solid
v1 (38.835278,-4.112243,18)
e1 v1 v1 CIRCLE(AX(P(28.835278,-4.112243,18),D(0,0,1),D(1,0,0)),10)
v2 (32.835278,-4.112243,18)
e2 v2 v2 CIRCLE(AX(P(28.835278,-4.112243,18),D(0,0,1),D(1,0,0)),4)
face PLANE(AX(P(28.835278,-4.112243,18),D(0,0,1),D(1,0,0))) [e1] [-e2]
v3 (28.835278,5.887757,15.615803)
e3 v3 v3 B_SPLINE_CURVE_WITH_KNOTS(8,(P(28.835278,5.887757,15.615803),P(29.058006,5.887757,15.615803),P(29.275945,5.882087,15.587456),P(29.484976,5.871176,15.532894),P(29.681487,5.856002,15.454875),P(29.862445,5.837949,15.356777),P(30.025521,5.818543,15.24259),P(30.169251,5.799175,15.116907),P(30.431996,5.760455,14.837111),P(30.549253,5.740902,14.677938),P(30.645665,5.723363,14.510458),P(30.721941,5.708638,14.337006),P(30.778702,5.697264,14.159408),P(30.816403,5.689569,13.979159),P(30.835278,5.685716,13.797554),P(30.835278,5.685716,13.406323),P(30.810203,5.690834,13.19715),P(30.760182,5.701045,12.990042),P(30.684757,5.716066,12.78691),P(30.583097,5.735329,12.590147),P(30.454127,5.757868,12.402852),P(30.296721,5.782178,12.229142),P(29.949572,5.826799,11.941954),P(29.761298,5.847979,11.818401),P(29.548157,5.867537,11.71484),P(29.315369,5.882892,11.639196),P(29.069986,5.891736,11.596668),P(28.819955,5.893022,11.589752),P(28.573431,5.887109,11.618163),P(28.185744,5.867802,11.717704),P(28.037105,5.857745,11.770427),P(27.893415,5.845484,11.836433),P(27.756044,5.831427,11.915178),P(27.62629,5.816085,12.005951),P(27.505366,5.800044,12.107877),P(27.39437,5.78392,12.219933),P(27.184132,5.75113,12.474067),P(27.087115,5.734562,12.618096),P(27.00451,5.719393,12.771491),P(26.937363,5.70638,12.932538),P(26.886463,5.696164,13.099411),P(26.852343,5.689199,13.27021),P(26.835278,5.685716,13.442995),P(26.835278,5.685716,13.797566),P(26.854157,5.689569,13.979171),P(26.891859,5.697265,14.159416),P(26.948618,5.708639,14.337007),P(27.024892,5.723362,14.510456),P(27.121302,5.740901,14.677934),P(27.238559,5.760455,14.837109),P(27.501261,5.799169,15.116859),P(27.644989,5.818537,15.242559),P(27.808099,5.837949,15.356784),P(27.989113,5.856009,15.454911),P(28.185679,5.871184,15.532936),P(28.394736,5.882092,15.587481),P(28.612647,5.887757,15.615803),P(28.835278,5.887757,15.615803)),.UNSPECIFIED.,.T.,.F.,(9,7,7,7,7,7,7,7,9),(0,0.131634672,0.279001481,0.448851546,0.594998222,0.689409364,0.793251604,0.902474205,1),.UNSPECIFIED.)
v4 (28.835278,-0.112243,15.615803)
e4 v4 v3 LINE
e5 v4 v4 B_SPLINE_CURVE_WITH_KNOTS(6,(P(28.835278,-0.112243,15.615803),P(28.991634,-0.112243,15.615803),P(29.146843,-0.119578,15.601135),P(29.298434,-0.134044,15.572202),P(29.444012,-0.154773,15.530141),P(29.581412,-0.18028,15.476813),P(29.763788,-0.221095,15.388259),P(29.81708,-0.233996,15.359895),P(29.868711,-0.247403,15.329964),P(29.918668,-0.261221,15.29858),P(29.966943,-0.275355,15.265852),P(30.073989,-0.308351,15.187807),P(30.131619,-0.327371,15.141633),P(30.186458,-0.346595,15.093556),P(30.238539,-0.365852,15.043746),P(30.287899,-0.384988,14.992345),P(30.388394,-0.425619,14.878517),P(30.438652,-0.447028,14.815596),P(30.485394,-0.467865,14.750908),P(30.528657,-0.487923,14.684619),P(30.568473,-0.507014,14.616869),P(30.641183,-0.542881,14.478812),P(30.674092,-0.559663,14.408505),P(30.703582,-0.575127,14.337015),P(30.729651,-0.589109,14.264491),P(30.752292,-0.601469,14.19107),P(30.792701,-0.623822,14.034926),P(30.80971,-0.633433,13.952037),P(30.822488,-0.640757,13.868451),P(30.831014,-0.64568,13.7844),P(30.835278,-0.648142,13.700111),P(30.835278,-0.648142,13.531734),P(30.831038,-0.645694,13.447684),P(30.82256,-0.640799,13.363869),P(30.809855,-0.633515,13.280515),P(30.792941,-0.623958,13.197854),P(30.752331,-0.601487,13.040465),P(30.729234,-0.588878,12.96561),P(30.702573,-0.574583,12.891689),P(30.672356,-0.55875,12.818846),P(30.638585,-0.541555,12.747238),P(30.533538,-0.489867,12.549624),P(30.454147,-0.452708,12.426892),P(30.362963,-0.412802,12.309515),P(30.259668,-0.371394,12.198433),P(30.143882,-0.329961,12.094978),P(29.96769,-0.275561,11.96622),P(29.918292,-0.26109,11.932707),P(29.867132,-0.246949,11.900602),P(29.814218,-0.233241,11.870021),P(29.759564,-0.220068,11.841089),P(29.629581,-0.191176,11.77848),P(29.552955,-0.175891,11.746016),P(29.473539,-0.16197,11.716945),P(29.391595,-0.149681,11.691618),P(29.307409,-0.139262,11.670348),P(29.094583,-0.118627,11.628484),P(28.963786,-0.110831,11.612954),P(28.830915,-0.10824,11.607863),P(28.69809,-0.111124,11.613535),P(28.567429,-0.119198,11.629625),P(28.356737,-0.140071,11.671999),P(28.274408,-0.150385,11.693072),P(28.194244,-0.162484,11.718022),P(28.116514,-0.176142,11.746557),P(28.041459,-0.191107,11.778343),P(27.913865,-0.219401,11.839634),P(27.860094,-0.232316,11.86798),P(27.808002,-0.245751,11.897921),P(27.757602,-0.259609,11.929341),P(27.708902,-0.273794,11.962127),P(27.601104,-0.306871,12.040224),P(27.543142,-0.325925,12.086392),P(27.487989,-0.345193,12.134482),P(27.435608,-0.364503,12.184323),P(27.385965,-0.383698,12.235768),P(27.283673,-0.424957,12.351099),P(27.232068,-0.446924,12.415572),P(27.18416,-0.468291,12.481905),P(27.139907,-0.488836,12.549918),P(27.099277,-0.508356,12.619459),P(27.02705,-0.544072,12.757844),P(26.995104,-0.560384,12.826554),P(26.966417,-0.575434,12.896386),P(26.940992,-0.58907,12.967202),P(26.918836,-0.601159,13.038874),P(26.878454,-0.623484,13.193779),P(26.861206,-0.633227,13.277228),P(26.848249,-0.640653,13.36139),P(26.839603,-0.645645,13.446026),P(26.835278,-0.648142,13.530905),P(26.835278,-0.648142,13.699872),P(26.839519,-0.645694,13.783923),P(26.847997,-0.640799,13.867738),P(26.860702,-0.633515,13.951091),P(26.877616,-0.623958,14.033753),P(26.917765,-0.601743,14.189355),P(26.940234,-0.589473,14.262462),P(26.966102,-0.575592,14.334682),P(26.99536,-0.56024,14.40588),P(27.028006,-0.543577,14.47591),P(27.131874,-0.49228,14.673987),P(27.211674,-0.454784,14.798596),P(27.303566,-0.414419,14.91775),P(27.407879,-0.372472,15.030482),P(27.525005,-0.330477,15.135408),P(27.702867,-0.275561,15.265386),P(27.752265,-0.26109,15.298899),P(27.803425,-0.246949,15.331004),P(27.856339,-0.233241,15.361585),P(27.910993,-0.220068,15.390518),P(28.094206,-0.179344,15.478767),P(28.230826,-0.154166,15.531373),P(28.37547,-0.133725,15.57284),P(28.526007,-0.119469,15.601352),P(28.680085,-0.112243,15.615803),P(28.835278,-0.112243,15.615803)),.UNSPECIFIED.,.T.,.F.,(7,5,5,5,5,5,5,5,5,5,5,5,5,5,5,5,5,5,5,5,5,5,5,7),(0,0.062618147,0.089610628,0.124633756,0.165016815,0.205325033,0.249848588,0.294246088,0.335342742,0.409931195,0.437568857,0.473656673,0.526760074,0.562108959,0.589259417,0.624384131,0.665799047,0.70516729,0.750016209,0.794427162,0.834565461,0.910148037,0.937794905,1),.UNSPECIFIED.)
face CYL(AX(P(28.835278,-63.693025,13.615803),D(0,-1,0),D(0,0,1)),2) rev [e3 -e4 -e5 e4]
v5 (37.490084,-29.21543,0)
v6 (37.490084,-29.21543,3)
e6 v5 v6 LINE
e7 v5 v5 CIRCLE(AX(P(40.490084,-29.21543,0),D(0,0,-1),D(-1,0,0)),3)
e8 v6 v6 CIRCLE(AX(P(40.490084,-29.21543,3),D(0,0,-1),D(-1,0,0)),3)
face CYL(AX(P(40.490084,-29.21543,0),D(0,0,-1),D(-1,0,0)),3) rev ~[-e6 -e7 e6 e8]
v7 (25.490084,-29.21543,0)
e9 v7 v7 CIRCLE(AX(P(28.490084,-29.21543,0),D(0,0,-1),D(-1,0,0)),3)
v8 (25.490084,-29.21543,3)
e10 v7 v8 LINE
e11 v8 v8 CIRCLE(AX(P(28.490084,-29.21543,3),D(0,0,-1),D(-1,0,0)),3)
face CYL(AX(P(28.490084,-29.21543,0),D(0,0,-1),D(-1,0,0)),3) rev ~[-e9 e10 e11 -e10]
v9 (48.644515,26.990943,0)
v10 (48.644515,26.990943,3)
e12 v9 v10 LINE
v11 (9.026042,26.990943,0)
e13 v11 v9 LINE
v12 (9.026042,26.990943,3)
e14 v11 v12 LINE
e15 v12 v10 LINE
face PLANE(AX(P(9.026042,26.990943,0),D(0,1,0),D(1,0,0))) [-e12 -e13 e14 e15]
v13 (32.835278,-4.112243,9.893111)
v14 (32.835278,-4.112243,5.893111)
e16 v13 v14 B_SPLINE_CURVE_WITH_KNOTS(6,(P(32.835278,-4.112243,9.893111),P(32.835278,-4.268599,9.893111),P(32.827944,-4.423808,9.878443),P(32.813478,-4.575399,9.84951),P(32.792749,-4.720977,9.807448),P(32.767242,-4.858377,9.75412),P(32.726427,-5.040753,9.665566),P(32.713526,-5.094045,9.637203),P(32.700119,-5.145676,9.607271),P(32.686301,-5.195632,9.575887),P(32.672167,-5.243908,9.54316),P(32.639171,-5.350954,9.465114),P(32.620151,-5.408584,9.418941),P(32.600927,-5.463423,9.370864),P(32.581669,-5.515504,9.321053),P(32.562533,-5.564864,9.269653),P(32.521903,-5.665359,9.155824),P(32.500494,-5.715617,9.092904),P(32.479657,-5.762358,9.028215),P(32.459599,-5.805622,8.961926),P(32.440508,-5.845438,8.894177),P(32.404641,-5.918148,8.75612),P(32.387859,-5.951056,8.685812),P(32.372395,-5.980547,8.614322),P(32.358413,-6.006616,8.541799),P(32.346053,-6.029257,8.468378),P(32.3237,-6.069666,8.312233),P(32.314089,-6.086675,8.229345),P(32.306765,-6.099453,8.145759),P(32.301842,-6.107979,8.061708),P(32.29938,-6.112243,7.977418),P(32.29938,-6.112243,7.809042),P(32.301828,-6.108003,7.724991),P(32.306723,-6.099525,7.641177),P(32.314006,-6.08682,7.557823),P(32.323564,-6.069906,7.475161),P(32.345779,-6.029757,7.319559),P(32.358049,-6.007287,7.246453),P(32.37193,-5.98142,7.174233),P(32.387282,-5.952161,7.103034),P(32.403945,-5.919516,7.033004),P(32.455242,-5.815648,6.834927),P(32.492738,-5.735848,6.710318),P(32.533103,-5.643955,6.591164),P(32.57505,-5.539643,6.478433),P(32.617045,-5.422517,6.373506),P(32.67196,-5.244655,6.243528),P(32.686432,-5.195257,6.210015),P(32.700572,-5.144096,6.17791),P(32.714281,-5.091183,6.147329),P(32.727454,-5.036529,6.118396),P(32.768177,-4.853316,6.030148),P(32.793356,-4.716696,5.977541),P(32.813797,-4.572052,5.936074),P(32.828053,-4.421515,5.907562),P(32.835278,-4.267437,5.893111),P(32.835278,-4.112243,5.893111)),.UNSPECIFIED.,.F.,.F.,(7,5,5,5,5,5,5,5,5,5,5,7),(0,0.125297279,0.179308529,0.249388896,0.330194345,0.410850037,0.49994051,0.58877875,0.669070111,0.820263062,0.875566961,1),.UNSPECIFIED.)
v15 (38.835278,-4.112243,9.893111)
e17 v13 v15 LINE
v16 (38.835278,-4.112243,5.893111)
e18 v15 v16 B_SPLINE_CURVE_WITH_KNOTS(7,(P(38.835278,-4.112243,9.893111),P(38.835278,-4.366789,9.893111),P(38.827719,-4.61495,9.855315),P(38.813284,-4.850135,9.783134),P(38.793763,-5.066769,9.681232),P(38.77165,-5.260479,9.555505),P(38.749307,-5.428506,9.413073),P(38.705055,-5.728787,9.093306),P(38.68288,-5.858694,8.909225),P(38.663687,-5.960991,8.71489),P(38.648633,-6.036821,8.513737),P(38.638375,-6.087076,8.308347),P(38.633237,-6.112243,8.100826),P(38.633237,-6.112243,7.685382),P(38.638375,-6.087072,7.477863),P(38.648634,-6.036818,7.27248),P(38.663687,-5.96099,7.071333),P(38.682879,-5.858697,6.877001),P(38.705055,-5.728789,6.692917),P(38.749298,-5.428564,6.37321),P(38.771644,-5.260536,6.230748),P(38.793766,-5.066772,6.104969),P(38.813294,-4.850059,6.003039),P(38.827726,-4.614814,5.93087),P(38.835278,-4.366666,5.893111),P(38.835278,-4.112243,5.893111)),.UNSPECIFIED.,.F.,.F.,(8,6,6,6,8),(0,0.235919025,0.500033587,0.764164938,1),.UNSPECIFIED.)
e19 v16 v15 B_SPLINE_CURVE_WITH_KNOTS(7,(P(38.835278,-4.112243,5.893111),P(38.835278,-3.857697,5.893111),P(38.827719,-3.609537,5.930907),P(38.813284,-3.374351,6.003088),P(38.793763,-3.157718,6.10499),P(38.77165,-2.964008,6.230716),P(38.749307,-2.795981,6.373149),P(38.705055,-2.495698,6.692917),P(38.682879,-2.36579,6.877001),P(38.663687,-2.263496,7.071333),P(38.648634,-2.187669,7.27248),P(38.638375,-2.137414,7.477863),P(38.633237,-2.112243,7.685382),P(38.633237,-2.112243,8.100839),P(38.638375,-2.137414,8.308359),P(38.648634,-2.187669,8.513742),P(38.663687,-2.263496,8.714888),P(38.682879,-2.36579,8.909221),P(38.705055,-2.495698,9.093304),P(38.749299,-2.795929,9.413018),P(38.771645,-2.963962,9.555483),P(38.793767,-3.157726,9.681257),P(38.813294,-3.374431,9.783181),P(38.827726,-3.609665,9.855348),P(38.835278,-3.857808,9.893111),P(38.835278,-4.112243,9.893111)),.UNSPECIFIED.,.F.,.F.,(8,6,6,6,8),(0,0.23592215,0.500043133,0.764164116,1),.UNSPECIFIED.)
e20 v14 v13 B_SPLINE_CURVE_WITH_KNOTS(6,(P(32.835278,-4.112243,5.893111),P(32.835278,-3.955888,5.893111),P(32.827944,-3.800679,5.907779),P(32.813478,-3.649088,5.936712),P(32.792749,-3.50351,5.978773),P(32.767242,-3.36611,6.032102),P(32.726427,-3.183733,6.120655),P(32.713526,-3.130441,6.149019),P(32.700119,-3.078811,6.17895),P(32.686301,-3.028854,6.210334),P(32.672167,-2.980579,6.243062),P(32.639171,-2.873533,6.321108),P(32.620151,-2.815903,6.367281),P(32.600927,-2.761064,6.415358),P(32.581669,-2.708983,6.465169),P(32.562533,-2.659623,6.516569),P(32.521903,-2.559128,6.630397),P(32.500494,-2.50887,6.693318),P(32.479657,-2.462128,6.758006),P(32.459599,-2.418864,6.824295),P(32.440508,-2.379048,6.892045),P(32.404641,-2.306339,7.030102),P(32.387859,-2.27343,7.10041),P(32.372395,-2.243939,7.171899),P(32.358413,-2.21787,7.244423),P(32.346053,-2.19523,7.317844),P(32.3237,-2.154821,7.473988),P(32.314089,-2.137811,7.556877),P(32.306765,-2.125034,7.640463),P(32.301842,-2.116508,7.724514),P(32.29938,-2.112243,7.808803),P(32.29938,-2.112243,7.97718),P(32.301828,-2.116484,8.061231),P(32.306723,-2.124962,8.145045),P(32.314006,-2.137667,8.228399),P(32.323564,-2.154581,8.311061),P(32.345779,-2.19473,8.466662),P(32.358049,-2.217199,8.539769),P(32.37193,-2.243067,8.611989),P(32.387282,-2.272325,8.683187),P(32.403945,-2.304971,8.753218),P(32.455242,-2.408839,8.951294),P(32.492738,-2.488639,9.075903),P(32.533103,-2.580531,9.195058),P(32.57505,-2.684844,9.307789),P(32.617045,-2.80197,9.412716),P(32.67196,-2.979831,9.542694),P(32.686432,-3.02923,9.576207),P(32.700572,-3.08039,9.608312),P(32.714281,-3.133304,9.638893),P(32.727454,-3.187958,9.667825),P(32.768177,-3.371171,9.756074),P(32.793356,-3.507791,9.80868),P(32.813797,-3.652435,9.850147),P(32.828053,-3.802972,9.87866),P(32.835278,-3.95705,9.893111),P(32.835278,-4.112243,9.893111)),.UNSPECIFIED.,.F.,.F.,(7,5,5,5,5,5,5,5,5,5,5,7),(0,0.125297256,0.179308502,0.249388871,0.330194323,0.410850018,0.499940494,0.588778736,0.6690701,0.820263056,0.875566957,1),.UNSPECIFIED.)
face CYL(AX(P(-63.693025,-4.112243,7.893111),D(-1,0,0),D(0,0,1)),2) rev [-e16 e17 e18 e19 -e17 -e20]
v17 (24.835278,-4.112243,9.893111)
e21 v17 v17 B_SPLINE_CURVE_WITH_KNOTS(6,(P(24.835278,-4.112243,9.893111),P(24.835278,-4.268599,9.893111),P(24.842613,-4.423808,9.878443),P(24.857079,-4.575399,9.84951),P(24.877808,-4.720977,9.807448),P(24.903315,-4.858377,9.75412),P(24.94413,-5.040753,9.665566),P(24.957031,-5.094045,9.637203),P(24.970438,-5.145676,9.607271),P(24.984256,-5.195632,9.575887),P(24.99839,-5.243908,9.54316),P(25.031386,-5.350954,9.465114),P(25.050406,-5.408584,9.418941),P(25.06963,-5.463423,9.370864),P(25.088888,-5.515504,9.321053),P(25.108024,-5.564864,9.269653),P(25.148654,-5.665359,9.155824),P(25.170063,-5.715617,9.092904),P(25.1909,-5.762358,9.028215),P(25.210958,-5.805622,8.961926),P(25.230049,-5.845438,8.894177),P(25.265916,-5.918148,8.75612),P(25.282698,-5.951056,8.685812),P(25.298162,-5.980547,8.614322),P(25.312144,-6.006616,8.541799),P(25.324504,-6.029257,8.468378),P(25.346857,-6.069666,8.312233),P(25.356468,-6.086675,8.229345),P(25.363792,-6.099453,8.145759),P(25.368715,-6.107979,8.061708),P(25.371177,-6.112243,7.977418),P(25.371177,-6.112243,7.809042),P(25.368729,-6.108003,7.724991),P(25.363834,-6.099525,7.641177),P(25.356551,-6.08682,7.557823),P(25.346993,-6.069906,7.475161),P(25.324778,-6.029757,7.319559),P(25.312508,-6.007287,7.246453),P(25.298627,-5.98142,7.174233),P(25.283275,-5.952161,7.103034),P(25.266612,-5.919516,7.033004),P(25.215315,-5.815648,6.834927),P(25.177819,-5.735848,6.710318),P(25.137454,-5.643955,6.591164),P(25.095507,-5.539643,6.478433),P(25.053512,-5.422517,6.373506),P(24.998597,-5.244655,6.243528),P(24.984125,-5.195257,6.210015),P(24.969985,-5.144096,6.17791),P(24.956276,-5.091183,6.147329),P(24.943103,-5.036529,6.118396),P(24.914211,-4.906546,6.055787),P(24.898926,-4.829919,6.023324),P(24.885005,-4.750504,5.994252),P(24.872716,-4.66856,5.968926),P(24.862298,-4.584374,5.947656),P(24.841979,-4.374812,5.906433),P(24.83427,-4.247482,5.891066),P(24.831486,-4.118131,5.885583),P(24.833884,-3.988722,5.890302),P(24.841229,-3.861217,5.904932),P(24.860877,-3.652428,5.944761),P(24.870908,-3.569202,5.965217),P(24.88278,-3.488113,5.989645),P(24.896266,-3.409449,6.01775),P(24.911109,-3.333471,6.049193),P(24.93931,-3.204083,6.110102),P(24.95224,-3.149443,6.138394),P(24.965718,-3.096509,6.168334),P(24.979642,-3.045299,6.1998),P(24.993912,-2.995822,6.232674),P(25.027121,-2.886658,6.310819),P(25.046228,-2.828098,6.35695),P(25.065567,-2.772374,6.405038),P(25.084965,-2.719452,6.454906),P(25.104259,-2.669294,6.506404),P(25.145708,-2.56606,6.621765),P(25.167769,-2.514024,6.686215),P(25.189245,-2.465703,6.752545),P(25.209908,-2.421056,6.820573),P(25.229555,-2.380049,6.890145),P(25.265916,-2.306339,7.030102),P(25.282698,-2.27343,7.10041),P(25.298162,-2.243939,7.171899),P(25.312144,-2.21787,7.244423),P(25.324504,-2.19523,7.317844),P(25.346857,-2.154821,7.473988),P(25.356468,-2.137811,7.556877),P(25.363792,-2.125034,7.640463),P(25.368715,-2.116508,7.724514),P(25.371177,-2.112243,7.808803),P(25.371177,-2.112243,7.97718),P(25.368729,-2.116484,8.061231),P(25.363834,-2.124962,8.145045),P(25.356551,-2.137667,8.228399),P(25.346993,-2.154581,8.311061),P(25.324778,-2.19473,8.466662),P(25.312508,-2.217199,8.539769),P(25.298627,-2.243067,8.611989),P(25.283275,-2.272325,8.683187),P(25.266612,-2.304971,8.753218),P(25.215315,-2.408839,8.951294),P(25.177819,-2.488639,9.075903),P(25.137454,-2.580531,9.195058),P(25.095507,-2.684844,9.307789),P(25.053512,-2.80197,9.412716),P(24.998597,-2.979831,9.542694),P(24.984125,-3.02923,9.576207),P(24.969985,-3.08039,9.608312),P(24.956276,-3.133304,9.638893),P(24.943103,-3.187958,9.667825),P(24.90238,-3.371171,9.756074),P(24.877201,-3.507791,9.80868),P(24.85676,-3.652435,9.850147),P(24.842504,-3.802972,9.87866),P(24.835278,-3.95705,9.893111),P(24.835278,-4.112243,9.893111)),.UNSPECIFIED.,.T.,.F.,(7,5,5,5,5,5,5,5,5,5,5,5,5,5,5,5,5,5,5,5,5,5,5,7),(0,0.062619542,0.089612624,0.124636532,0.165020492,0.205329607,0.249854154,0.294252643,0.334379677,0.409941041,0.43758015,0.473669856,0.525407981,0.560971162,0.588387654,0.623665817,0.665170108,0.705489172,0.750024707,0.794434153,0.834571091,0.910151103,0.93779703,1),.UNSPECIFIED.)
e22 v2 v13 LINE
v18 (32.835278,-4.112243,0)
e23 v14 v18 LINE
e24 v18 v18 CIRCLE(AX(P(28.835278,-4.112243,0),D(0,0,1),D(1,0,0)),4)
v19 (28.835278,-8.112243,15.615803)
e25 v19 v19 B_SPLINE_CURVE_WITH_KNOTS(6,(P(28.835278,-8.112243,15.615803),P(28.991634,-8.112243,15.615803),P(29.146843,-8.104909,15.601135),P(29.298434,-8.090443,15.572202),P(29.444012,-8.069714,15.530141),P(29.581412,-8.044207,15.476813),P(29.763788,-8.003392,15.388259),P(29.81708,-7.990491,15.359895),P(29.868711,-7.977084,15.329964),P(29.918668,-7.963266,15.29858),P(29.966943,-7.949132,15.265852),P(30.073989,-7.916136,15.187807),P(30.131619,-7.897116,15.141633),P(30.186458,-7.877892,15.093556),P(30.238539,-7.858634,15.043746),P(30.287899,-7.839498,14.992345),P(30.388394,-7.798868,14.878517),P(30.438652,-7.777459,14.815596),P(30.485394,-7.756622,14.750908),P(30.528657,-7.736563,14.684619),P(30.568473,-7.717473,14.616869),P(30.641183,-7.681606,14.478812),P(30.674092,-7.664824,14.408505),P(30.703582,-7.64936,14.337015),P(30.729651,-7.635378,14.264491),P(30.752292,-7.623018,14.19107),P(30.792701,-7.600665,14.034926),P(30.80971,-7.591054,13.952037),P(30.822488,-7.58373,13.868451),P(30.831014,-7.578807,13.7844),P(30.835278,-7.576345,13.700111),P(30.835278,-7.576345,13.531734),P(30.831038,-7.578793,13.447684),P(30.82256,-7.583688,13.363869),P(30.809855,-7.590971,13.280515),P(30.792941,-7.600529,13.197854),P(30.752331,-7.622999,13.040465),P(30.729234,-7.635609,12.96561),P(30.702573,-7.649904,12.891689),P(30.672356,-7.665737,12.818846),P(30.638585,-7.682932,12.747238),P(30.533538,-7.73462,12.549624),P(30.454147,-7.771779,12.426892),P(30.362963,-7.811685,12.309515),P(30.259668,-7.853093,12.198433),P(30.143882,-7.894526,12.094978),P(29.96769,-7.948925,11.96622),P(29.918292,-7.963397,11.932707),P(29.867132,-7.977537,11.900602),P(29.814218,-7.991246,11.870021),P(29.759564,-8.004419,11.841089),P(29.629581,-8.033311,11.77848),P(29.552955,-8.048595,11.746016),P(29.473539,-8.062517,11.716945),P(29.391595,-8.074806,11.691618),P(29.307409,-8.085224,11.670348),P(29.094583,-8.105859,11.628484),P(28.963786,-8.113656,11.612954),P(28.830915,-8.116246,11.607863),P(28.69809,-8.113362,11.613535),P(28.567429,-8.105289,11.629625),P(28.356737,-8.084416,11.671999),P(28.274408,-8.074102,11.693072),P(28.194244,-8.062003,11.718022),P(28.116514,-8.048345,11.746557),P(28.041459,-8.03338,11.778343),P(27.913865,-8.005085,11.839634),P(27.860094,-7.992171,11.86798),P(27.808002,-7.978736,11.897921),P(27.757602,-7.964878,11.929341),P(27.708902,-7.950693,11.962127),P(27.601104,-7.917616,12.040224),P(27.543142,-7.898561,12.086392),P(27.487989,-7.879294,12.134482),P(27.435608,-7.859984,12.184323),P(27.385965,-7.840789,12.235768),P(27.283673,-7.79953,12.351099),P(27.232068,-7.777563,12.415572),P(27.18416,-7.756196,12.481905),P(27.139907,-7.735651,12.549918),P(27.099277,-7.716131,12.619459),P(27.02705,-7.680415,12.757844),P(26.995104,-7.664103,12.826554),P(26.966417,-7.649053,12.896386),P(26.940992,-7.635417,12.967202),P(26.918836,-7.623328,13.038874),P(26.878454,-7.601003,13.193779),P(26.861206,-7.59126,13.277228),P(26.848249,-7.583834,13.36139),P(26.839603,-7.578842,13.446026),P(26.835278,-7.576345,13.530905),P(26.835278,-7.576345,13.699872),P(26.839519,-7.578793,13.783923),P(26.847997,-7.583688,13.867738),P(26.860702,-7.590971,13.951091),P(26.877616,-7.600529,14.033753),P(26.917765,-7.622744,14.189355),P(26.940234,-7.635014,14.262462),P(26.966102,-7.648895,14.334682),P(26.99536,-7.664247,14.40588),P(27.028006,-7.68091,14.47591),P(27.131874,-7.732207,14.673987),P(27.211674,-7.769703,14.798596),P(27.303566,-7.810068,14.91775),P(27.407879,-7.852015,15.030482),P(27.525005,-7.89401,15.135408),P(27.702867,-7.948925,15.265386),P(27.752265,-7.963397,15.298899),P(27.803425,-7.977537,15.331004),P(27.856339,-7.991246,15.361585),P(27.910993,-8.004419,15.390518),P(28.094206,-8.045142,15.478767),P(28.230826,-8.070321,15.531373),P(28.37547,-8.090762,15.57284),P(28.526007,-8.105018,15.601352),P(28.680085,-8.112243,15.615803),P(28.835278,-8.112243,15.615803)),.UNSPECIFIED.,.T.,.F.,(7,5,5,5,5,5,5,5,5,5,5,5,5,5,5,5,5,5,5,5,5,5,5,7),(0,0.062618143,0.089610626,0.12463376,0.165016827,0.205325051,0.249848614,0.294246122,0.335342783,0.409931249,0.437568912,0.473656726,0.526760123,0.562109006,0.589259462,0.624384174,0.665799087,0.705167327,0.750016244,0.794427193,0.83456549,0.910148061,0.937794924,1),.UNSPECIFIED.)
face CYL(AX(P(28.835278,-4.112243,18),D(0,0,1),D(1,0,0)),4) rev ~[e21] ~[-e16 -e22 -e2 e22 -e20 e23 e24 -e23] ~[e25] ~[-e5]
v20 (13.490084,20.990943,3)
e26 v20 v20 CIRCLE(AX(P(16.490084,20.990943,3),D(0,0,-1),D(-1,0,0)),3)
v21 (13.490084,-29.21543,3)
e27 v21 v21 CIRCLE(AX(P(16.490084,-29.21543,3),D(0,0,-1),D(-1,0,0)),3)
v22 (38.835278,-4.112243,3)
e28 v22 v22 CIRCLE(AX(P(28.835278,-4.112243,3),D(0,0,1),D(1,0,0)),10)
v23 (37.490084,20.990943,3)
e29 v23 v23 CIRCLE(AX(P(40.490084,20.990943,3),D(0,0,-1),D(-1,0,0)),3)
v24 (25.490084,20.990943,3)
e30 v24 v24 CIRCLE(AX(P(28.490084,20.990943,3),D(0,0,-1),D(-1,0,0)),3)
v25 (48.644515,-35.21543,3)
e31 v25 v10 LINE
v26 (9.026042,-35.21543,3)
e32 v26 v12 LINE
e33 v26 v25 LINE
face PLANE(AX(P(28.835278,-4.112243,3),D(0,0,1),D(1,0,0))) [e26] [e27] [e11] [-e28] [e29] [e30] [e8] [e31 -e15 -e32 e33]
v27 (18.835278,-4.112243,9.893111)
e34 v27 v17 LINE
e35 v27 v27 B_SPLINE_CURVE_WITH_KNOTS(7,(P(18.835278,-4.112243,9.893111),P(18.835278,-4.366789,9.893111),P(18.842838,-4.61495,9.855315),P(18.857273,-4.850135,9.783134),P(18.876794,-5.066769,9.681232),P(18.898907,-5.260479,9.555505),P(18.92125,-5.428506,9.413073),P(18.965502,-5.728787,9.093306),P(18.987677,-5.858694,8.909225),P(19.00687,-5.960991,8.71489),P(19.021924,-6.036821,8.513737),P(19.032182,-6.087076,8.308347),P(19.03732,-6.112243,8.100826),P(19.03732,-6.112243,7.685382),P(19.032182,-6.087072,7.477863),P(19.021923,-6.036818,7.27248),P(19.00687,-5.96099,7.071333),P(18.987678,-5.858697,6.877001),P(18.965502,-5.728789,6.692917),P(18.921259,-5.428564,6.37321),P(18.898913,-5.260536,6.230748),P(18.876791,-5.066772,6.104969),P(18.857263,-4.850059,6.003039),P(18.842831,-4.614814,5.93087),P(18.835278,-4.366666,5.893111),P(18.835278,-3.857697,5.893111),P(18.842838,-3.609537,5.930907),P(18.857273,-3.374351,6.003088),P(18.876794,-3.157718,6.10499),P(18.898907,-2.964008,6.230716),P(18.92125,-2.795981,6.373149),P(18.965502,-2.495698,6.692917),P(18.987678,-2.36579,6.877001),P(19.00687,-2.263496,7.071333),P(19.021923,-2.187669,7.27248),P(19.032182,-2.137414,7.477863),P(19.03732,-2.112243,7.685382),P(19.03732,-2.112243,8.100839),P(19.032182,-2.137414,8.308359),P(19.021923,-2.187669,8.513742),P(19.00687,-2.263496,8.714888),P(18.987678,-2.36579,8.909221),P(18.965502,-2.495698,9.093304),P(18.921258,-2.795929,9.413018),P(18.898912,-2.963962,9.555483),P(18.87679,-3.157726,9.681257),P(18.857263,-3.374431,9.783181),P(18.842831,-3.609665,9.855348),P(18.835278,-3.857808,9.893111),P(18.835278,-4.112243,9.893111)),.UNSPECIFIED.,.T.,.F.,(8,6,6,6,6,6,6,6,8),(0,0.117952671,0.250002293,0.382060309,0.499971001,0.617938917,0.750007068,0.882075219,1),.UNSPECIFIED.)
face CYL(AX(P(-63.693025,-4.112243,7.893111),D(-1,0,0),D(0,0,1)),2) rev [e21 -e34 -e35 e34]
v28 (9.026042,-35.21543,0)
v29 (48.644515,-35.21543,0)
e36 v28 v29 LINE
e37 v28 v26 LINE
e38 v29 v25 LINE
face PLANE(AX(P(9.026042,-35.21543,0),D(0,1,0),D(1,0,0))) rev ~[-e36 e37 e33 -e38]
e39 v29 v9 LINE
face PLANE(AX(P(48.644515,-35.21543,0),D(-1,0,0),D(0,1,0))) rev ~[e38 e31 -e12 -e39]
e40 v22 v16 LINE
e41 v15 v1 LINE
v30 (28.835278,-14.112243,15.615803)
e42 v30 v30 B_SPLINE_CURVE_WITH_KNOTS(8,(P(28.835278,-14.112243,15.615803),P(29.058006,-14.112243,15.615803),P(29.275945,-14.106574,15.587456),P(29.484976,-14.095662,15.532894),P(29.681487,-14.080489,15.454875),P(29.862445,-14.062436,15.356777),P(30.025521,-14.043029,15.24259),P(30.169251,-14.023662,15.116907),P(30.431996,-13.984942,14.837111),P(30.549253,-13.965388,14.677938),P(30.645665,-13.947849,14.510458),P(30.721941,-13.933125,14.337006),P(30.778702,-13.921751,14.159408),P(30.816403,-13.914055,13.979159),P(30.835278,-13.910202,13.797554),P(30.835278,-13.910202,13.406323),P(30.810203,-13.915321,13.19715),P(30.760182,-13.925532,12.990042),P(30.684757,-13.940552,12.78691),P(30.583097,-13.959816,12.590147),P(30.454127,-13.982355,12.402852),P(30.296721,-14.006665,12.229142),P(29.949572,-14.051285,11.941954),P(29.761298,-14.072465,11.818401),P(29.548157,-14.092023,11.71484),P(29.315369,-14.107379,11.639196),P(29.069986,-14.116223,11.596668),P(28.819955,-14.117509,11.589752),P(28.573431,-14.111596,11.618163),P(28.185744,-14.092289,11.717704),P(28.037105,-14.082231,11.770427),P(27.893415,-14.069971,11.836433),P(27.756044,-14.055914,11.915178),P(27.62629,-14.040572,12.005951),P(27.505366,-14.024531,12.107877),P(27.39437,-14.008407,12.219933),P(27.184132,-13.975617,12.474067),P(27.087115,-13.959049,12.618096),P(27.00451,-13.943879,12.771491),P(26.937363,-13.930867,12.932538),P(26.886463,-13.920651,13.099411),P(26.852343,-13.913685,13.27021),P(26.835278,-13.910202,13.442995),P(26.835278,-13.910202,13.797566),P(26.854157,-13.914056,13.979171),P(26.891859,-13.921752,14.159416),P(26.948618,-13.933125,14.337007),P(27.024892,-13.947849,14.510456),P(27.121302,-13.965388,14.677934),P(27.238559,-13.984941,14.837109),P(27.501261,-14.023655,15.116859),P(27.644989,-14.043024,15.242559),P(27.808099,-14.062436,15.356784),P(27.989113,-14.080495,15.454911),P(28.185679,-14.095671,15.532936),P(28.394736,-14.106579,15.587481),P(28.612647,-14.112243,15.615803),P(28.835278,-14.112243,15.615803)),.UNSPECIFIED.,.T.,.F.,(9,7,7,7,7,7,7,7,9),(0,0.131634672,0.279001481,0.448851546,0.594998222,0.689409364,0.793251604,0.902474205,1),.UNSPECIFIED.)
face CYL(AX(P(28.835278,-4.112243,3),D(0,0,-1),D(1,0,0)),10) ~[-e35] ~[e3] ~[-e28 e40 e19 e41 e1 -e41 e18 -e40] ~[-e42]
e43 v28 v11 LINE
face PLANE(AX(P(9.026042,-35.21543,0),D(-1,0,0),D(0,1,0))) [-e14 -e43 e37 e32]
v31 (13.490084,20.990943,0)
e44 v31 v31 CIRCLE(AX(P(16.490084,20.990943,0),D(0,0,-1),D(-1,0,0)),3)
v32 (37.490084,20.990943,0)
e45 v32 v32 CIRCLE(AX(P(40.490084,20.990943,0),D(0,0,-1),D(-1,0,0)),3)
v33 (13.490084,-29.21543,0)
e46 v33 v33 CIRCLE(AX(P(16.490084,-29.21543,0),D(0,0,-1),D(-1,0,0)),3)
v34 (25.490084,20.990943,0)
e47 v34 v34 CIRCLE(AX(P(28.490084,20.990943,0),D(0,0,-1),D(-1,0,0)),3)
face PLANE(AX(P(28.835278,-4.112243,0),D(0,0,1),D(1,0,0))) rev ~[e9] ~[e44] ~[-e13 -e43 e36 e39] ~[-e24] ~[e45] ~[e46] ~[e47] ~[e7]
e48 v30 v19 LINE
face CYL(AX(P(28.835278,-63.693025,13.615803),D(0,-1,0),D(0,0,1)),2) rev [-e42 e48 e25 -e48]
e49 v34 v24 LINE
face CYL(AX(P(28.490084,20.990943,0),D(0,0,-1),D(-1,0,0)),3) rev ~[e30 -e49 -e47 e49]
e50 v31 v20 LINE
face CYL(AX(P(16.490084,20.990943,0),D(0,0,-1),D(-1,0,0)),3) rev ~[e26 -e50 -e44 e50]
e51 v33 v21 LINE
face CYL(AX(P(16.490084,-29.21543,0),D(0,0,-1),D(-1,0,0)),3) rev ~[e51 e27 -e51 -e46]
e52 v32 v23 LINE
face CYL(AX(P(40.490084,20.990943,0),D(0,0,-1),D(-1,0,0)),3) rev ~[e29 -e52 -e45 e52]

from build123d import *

# Parameters (mm, degrees)
CROQUIS1_W                 = 39.618473901
CROQUIS1_H                 = 62.206373563
SALIENTE_EXTRUIR1_DEPTH    = 3
CROQUIS2_R                 = 10
SALIENTE_EXTRUIR2_DEPTH    = 15
CROQUIS3_R                 = 4
CORTAR_EXTRUIR1_DEPTH      = 63.693025162
CORTAR_EXTRUIR3_DEPTH      = 63.693025162
CORTAR_EXTRUIR3_DEPTH_BACK = 63.693025162
CROQUIS5_R                 = 2
CROQUIS6_R                 = 3
CORTAR_EXTRUIR4_DEPTH      = 10
CORTAR_EXTRUIR5_DEPTH      = 63.69302519
CORTAR_EXTRUIR5_DEPTH_BACK = 63.69302519
CROQUIS7_R                 = 2


with BuildPart() as part:
    # Croquis1 → Saliente-Extruir1 (new body)
    with BuildSketch(Plane.XY):
        with Locations((28.835278497, -4.112243371)):
            Rectangle(CROQUIS1_W, CROQUIS1_H)
    extrude(amount=SALIENTE_EXTRUIR1_DEPTH)

    # Croquis2 → Saliente-Extruir2 (add)
    with BuildSketch(Plane.XY.offset(3)):
        with Locations((28.835278496, -4.112243372)):
            Circle(CROQUIS2_R)
    extrude(amount=SALIENTE_EXTRUIR2_DEPTH)

    # Croquis3 → Cortar-Extruir1 (cut, through all)
    with BuildSketch(Plane.XY.offset(18)):
        with Locations((28.835278496, -4.112243372)):
            Circle(CROQUIS3_R)
    extrude(amount=-CORTAR_EXTRUIR1_DEPTH, mode=Mode.SUBTRACT)

    # Croquis5 → Cortar-Extruir3 (cut, two sides: drawn at the far end of the back side and taken through both)
    with BuildSketch(Plane(origin=(0, 0, 0), x_dir=(0, 0, -1), z_dir=(1, 0, 0)).offset(-CORTAR_EXTRUIR3_DEPTH_BACK)):
        with Locations(Location((-7.893110832, -4.112243372, 0), (0, 0, 180))):
            Circle(CROQUIS5_R)
    extrude(amount=CORTAR_EXTRUIR3_DEPTH + CORTAR_EXTRUIR3_DEPTH_BACK, mode=Mode.SUBTRACT)

    # Croquis6 → Cortar-Extruir4 (cut)
    with BuildSketch(Plane(origin=(0, 0, 0), x_dir=(-1, 0, 0), z_dir=(0, 0, -1))):
        with Locations((-40.490083912, -29.215430153)):
            Circle(CROQUIS6_R)
        with Locations((-28.490083912, -29.215430153)):
            Circle(CROQUIS6_R)
        with Locations((-16.490083912, -29.215430153)):
            Circle(CROQUIS6_R)
        with Locations((-28.490083912, 20.99094341)):
            Circle(CROQUIS6_R)
        with Locations((-40.490083912, 20.99094341)):
            Circle(CROQUIS6_R)
        with Locations((-16.490083912, 20.99094341)):
            Circle(CROQUIS6_R)
    extrude(amount=-CORTAR_EXTRUIR4_DEPTH, mode=Mode.SUBTRACT)

    # Croquis7 → Cortar-Extruir5 (cut, two sides: drawn at the far end of the back side and taken through both)
    with BuildSketch(Plane(origin=(0, 0, 0), x_dir=(1, 0, 0), z_dir=(0, 1, 0)).offset(-CORTAR_EXTRUIR5_DEPTH_BACK)):
        with Locations(Location((28.835278496, -13.615803353, 0), (0, 0, 270))):
            Circle(CROQUIS7_R)
    extrude(amount=CORTAR_EXTRUIR5_DEPTH + CORTAR_EXTRUIR5_DEPTH_BACK, mode=Mode.SUBTRACT)


solid = part.part
